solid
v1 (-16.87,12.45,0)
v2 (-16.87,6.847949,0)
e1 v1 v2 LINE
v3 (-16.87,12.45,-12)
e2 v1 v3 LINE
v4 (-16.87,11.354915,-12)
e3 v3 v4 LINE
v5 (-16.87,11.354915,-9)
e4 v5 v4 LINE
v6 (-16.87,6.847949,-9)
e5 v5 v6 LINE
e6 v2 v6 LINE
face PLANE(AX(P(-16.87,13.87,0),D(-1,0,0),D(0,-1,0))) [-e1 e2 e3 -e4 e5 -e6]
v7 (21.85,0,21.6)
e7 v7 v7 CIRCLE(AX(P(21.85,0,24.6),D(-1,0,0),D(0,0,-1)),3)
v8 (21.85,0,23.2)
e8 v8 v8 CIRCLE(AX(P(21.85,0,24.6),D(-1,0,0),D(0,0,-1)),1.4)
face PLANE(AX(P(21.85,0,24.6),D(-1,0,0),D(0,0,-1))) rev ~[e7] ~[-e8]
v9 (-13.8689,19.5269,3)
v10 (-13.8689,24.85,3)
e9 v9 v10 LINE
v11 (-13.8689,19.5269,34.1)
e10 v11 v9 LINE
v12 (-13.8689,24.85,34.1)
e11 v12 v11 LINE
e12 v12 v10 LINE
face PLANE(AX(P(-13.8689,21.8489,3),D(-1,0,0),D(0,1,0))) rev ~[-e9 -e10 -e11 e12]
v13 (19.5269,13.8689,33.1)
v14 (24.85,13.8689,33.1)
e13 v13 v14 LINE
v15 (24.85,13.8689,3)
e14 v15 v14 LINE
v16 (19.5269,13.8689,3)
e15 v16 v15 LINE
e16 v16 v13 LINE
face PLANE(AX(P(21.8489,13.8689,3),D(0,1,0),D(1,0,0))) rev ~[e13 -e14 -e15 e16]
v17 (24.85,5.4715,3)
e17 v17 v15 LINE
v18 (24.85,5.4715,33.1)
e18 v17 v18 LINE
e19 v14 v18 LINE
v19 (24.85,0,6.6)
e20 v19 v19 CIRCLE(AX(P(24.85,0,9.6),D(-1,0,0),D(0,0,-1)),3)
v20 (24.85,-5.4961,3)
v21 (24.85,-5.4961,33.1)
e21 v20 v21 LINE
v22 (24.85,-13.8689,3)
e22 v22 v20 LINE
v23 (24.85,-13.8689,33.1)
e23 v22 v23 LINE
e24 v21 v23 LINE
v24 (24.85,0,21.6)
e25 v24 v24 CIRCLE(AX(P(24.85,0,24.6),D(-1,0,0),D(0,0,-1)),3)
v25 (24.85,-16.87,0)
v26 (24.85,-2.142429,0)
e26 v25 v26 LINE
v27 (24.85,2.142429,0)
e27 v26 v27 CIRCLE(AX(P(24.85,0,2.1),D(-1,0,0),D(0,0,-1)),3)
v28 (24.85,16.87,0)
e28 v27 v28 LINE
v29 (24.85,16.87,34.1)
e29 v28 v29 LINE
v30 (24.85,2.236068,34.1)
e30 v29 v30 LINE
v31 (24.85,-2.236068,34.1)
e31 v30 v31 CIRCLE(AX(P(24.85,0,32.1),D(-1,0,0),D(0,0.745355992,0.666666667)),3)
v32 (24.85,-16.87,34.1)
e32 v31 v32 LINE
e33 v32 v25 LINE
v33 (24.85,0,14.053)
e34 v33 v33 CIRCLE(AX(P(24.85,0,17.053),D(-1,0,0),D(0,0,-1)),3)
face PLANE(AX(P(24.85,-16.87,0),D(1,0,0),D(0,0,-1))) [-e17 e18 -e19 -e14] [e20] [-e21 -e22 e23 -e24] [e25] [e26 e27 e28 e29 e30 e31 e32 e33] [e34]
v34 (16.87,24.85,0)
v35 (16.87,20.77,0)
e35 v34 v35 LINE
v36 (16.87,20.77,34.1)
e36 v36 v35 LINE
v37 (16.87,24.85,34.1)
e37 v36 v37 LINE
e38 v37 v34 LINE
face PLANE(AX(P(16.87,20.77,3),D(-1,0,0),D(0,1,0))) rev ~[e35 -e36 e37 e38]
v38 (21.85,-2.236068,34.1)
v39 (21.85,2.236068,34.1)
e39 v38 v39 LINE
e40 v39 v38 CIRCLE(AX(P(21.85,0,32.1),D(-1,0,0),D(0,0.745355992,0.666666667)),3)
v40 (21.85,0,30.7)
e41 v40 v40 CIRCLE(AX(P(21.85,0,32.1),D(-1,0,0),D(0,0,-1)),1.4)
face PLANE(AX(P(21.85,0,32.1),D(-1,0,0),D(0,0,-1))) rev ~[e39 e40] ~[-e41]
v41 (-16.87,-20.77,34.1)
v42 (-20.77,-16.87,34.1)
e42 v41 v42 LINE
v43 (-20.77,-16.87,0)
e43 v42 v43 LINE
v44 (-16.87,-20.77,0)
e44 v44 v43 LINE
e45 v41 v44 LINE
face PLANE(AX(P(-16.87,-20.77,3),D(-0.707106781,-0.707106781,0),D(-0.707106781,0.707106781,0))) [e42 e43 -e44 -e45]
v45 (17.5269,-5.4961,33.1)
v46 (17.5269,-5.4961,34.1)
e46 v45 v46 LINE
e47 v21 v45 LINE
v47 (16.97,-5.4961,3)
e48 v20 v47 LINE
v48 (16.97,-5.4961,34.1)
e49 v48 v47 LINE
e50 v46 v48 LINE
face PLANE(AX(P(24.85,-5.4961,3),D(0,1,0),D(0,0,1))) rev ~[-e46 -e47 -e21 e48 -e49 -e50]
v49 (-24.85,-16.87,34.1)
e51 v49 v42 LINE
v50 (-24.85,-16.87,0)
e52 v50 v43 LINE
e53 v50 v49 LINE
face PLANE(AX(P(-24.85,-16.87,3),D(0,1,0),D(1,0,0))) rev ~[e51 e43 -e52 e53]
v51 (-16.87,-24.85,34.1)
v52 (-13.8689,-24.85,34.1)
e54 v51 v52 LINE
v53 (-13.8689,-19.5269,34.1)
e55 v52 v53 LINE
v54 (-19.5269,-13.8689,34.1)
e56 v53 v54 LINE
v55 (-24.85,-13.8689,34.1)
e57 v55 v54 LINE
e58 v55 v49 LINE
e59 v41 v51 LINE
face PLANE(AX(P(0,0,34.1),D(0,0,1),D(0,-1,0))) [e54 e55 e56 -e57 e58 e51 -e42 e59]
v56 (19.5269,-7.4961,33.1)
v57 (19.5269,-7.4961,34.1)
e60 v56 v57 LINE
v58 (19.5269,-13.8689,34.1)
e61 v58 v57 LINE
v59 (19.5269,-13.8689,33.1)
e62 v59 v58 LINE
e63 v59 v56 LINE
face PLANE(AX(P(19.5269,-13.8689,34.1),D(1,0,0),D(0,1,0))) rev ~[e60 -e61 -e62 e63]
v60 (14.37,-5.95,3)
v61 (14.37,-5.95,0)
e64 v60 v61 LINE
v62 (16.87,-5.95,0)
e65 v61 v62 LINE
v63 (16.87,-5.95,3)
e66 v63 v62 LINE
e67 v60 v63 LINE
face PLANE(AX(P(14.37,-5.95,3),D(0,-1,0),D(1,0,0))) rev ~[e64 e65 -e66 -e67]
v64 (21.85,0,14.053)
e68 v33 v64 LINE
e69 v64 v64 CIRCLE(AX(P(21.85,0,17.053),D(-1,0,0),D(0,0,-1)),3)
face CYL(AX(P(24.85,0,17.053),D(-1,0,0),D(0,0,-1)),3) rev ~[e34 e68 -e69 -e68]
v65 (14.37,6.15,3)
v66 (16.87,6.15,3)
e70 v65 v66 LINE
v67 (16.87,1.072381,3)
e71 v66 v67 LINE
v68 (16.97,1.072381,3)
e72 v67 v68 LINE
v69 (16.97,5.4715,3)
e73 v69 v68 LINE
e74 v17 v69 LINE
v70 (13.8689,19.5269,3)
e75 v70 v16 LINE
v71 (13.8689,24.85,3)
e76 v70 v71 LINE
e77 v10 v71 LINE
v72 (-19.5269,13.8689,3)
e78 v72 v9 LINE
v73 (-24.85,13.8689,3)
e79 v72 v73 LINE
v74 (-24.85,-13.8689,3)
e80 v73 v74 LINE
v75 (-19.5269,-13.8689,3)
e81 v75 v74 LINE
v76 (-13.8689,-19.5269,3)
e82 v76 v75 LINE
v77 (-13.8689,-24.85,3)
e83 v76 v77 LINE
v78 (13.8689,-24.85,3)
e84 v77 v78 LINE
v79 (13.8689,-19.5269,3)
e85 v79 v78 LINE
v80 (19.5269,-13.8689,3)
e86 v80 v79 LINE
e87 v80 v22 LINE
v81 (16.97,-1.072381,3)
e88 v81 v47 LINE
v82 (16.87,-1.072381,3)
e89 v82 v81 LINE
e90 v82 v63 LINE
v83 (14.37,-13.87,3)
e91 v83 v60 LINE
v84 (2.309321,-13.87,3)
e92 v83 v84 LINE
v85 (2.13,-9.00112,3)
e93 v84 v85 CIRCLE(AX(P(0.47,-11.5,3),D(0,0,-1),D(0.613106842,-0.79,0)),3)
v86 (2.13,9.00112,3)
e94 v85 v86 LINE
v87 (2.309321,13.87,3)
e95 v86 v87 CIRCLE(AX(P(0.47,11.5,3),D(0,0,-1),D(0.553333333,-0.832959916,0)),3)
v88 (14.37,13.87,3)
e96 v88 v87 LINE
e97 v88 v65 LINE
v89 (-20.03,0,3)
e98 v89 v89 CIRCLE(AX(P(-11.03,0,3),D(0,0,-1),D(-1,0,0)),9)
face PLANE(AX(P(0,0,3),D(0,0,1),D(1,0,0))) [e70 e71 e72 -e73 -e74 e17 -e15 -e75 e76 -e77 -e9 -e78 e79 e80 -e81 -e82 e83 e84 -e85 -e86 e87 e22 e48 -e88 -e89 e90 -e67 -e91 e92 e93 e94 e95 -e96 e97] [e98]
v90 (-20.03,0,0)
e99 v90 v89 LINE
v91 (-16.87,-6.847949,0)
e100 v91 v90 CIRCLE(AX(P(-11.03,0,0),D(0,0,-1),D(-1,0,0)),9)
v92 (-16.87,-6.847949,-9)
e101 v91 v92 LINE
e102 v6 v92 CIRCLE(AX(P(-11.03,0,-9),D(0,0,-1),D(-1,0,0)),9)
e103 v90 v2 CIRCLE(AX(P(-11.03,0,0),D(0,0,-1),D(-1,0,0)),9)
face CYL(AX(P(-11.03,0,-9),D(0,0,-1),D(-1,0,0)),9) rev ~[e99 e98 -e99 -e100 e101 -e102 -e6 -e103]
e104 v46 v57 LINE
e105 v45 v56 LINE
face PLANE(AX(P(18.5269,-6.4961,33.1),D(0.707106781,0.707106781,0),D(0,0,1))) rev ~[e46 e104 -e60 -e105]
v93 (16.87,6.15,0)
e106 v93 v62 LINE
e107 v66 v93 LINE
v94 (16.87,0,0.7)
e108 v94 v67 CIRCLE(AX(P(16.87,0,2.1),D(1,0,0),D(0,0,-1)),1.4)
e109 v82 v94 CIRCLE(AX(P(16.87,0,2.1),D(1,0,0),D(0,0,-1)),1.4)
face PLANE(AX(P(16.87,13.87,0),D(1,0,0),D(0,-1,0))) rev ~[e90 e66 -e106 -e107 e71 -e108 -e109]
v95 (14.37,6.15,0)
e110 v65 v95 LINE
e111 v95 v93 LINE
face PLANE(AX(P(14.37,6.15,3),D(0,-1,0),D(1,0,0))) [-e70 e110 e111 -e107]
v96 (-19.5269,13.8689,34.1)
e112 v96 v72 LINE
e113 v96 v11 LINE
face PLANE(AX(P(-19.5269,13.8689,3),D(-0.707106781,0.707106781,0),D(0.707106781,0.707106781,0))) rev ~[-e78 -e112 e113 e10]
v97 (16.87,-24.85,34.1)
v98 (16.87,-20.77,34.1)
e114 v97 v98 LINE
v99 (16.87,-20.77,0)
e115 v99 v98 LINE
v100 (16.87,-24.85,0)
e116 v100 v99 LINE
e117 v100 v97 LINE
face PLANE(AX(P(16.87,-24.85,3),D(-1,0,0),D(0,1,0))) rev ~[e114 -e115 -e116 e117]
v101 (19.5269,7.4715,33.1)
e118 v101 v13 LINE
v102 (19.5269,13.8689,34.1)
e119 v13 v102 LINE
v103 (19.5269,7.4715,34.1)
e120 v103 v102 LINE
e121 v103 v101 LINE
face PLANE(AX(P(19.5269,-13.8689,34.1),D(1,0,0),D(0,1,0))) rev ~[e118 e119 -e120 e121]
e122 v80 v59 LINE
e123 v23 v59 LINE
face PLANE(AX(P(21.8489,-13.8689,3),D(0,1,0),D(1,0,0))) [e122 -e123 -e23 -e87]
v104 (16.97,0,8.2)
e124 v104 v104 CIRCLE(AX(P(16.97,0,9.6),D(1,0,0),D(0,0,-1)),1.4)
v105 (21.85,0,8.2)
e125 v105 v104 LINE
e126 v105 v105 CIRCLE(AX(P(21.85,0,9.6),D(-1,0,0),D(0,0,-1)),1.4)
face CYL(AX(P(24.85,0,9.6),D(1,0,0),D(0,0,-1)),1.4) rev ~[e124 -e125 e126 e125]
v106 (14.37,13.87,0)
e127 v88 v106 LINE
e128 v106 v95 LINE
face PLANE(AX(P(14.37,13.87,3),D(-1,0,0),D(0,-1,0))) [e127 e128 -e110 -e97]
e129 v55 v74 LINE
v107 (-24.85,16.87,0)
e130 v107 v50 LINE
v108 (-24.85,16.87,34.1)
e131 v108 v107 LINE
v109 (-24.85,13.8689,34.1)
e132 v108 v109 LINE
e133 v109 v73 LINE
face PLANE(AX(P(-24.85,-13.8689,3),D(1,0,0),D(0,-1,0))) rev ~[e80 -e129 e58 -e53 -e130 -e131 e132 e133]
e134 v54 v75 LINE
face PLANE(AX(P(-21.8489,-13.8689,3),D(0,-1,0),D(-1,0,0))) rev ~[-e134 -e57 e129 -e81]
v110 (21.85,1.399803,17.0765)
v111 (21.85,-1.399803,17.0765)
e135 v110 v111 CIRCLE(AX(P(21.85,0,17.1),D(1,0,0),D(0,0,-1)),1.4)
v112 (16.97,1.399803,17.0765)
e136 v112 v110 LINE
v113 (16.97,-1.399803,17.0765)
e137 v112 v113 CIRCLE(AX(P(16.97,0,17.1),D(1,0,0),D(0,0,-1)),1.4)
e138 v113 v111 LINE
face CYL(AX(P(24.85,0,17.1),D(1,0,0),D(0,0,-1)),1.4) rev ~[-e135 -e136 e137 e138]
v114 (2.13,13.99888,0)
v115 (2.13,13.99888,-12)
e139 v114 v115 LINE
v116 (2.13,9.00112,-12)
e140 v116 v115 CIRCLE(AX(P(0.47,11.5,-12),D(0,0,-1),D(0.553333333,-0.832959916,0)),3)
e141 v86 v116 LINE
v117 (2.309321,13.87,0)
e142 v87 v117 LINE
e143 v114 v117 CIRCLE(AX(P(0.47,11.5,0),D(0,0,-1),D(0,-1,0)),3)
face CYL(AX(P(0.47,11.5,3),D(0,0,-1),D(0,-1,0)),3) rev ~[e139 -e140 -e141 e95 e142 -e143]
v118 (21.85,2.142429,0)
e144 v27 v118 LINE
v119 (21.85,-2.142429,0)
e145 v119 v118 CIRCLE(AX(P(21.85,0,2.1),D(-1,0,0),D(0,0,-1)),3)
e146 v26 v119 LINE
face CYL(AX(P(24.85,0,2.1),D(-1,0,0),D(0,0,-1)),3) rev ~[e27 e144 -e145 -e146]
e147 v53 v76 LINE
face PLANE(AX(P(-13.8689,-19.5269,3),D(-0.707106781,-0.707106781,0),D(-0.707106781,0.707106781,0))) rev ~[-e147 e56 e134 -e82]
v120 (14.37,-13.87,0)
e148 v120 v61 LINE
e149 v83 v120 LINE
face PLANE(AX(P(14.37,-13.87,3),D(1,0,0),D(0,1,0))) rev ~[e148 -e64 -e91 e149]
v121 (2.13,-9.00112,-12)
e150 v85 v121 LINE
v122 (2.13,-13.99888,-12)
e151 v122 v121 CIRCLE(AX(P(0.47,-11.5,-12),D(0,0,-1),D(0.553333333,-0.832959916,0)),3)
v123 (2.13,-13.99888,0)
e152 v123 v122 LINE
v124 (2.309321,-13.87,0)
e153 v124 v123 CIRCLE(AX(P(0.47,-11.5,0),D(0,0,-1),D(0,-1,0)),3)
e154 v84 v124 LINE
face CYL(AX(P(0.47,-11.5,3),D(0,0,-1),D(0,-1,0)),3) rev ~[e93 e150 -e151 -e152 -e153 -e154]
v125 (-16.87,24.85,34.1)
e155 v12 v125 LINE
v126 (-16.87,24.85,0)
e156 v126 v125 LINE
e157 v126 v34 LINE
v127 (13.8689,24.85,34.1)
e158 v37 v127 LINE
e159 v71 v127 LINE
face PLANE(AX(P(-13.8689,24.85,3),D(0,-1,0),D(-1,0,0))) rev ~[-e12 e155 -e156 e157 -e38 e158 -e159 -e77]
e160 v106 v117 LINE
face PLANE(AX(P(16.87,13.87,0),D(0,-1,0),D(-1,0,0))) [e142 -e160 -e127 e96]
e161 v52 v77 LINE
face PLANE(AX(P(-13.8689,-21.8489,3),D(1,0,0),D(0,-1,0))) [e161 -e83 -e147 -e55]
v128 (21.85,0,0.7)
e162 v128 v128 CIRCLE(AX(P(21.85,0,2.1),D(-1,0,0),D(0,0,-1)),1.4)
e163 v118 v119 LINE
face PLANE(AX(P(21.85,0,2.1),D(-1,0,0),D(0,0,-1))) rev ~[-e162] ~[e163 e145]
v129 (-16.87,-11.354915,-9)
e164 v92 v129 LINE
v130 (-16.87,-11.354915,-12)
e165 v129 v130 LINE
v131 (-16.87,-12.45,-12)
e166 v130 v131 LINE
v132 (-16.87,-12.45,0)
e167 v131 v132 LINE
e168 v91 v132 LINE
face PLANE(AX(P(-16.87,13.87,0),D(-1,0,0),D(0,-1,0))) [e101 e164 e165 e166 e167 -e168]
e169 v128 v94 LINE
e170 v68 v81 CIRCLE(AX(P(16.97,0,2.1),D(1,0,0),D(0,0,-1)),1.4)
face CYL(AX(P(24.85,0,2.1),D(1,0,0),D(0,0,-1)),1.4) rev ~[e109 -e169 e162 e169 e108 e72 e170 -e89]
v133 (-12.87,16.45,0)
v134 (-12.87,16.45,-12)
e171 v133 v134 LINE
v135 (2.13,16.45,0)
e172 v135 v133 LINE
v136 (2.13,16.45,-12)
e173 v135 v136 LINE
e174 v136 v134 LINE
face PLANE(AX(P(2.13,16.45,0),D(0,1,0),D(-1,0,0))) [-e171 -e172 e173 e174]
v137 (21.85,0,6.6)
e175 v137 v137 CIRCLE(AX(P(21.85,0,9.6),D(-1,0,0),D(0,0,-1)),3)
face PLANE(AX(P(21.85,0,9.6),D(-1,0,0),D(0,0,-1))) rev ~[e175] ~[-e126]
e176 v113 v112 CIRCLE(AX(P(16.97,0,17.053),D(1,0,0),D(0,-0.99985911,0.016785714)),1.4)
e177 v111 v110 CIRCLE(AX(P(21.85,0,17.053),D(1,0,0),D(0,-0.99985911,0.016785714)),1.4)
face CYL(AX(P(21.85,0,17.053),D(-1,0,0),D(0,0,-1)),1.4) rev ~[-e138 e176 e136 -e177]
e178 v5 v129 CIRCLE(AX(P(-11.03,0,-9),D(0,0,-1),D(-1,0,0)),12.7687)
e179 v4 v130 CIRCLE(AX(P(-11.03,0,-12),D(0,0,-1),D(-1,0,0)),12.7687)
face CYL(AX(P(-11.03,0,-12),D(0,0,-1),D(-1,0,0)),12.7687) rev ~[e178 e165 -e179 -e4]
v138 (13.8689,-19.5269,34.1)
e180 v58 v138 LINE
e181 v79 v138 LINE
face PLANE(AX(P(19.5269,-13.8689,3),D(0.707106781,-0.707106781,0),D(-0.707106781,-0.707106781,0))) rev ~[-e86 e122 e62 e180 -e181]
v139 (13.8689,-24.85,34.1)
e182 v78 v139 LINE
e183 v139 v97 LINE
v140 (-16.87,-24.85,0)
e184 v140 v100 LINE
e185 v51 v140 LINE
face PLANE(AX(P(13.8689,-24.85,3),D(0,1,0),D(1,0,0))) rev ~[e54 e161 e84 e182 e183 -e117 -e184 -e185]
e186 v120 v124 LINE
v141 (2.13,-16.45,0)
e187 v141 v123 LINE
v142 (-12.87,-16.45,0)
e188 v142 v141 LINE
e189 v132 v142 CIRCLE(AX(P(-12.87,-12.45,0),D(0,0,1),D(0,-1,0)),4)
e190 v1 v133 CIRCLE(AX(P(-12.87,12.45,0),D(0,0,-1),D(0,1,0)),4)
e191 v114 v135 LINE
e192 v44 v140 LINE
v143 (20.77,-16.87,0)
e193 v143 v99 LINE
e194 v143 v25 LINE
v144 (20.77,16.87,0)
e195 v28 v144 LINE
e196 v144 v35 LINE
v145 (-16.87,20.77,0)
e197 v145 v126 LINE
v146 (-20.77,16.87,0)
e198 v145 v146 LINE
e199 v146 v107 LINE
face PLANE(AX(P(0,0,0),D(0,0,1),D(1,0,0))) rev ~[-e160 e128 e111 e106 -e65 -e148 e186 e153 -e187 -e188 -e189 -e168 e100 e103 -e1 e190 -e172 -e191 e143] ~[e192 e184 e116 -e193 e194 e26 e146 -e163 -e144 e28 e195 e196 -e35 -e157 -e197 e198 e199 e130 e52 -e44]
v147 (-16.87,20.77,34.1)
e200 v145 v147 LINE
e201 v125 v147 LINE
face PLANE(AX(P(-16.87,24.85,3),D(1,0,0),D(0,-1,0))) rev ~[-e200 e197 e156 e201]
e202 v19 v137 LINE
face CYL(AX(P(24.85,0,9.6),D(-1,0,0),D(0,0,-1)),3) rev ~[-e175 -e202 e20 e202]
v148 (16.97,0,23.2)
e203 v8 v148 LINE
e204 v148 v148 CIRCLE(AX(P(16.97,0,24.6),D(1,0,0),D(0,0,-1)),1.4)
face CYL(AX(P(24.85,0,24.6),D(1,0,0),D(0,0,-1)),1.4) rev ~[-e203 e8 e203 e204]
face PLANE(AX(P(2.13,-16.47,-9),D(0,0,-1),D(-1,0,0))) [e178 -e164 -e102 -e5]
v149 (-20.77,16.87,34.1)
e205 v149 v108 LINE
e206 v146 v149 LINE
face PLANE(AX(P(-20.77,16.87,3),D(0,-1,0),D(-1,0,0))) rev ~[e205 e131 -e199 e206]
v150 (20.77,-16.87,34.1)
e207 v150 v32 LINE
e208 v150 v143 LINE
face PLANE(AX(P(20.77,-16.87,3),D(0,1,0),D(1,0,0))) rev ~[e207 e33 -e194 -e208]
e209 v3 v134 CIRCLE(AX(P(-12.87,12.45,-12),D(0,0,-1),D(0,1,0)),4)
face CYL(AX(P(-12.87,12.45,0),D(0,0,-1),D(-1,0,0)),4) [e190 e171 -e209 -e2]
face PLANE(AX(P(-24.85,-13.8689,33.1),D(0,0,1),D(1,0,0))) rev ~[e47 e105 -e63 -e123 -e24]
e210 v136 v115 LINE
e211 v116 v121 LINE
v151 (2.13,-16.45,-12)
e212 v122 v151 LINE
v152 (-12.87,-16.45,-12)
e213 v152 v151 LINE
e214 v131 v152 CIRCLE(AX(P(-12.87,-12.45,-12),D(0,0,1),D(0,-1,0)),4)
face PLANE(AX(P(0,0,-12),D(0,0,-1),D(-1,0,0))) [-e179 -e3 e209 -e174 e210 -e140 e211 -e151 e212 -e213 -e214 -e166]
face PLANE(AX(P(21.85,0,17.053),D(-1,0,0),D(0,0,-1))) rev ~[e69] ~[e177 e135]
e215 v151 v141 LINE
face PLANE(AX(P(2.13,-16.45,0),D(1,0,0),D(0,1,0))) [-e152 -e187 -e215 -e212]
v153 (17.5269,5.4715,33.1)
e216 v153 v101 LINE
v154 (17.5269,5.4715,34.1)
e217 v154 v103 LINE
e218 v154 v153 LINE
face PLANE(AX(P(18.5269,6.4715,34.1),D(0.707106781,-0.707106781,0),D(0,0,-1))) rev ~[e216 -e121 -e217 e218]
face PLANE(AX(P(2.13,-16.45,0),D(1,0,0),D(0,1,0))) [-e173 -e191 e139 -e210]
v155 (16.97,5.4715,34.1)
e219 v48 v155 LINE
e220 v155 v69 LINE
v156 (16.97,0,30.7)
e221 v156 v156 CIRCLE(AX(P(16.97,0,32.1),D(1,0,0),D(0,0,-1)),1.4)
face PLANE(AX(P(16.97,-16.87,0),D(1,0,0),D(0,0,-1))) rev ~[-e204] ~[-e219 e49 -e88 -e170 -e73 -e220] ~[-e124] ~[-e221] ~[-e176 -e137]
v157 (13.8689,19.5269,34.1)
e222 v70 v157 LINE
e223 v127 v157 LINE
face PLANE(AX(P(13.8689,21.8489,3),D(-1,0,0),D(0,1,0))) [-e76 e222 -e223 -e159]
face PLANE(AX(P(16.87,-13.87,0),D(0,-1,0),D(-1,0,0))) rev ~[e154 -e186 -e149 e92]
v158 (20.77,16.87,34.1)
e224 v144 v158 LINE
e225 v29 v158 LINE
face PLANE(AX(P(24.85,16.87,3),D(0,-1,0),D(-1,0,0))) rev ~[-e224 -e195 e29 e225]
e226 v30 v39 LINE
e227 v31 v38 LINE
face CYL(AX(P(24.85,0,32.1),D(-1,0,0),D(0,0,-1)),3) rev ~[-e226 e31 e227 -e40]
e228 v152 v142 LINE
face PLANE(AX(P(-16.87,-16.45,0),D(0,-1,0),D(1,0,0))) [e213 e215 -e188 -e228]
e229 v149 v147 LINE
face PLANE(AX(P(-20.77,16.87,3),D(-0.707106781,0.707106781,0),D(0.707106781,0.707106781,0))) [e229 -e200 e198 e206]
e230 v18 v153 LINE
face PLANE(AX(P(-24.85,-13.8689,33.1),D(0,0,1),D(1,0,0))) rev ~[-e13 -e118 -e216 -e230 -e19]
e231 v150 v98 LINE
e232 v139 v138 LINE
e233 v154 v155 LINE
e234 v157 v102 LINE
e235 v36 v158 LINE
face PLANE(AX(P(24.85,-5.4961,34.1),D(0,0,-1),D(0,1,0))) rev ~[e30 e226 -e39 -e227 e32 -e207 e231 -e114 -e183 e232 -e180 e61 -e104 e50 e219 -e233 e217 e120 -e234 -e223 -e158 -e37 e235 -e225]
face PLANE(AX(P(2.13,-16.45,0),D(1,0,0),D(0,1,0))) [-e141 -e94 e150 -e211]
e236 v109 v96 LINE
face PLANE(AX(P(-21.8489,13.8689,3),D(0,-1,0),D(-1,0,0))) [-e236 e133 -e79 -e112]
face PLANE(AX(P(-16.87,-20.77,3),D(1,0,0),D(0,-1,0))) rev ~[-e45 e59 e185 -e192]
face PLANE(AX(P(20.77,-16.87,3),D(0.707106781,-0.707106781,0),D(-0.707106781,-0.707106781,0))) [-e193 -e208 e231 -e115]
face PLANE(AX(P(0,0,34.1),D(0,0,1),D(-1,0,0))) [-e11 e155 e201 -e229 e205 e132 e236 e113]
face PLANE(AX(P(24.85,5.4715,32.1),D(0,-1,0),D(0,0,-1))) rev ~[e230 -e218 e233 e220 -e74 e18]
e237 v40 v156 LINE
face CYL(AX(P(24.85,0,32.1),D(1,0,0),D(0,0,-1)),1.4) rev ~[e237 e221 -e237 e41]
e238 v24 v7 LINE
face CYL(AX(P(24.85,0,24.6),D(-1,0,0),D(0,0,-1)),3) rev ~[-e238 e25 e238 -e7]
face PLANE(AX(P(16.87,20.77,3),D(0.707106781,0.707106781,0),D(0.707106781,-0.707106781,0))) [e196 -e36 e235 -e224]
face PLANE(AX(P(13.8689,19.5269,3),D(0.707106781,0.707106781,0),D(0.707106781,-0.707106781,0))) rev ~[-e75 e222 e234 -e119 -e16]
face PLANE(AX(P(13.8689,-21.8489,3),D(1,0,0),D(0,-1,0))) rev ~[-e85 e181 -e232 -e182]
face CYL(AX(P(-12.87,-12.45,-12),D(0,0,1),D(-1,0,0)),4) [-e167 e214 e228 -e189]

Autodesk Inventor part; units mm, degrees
ref_plane "Work Plane1" through (0, 0, 0) normal (0, 0, 1) x (1, 0, 0)
sketch "Sketch1" plane through (0, 0, 0) normal (0, 0, 1) x (1, 0, 0)
  arc A0 (24.85, 22.85) -> (22.85, 24.85) centre (22.85, 22.85) ccw construction
  line L0 (22.85, 24.85) -> (-16.97, 24.85) construction
  line L1 (-16.97, 24.85) -> (-16.97, 21.15) construction
  line L2 (-16.97, 21.15) -> (16.97, 21.15) construction
  line L3 (16.97, 16.97) -> (16.97, 21.15) construction
  line L4 (21.15, 16.97) -> (16.97, 16.97) construction
  line L5 (21.15, 16.97) -> (21.15, -16.97) construction
  line L6 (21.15, -16.97) -> (24.85, -16.97) construction
  line L7 (24.85, -16.97) -> (24.85, 22.85) construction
  line L8 (23.75, 23.25) -> (23.75, 18.15) construction
  arc A1 (23.25, 17.65) -> (23.75, 18.15) centre (23.25, 18.15) ccw construction
  line L9 (23.25, 17.65) -> (20.8937, 17.65) construction
  arc A2 (20.5239, 17.8134) -> (20.8937, 17.65) centre (20.8937, 18.15) ccw construction
  line L10 (20.5239, 17.8134) -> (17.7803, 20.8273) construction
  arc A3 (17.65, 21.1639) -> (17.7803, 20.8273) centre (18.15, 21.1639) ccw construction
  line L11 (17.65, 21.1639) -> (17.65, 23.25) construction
  arc A4 (18.15, 23.75) -> (17.65, 23.25) centre (18.15, 23.25) ccw construction
  line L12 (18.15, 23.75) -> (23.25, 23.75) construction
  arc A5 (23.75, 23.25) -> (23.25, 23.75) centre (23.25, 23.25) ccw construction
  arc A6 (-24.85, -22.85) -> (-22.85, -24.85) centre (-22.85, -22.85) ccw construction
  line L13 (-22.85, -24.85) -> (16.97, -24.85) construction
  line L14 (16.97, -24.85) -> (16.97, -21.15) construction
  line L15 (16.97, -21.15) -> (-16.97, -21.15) construction
  line L16 (-16.97, -16.97) -> (-16.97, -21.15) construction
  line L17 (-21.15, -16.97) -> (-16.97, -16.97) construction
  line L18 (-21.15, -16.97) -> (-21.15, 16.97) construction
  line L19 (-21.15, 16.97) -> (-24.85, 16.97) construction
  line L20 (-24.85, 16.97) -> (-24.85, -22.85) construction
  line L21 (-20.8273, -17.7803) -> (-17.8134, -20.5239) construction
  arc A7 (-17.65, -20.8937) -> (-17.8134, -20.5239) centre (-18.15, -20.8937) ccw construction
  line L22 (-17.65, -20.8937) -> (-17.65, -23.25) construction
  arc A8 (-18.15, -23.75) -> (-17.65, -23.25) centre (-18.15, -23.25) ccw construction
  line L23 (-18.15, -23.75) -> (-23.25, -23.75) construction
  arc A9 (-23.75, -23.25) -> (-23.25, -23.75) centre (-23.25, -23.25) ccw construction
  line L24 (-23.75, -23.25) -> (-23.75, -18.15) construction
  arc A10 (-23.25, -17.65) -> (-23.75, -18.15) centre (-23.25, -18.15) ccw construction
  line L25 (-23.25, -17.65) -> (-21.1639, -17.65) construction
  arc A11 (-20.8273, -17.7803) -> (-21.1639, -17.65) centre (-21.1639, -18.15) ccw construction
  arc A12 (-22.85, 24.85) -> (-24.85, 22.85) centre (-22.85, 22.85) ccw construction
  line L26 (-22.85, 24.85) -> (16.97, 24.85) construction
  line L27 (16.97, 24.85) -> (16.97, 21.15) construction
  line L28 (16.97, 21.15) -> (-16.97, 21.15) construction
  line L29 (-16.97, 16.97) -> (-16.97, 21.15) construction
  line L30 (-21.15, 16.97) -> (-16.97, 16.97) construction
  line L31 (-21.15, 16.97) -> (-21.15, -16.97) construction
  line L32 (-21.15, -16.97) -> (-24.85, -16.97) construction
  line L33 (-24.85, -16.97) -> (-24.85, 22.85) construction
  line L34 (-20.8273, 17.7803) -> (-17.8134, 20.5239) construction
  arc A13 (-17.8134, 20.5239) -> (-17.65, 20.8937) centre (-18.15, 20.8937) ccw construction
  line L35 (-17.65, 20.8937) -> (-17.65, 23.25) construction
  arc A14 (-17.65, 23.25) -> (-18.15, 23.75) centre (-18.15, 23.25) ccw construction
  line L36 (-18.15, 23.75) -> (-23.25, 23.75) construction
  arc A15 (-23.25, 23.75) -> (-23.75, 23.25) centre (-23.25, 23.25) ccw construction
  line L37 (-23.75, 23.25) -> (-23.75, 18.15) construction
  arc A16 (-23.75, 18.15) -> (-23.25, 17.65) centre (-23.25, 18.15) ccw construction
  line L38 (-23.25, 17.65) -> (-21.1639, 17.65) construction
  arc A17 (-21.1639, 17.65) -> (-20.8273, 17.7803) centre (-21.1639, 18.15) ccw construction
  arc A18 (22.85, -24.85) -> (24.85, -22.85) centre (22.85, -22.85) ccw construction
  line L39 (22.85, -24.85) -> (-16.97, -24.85) construction
  line L40 (-16.97, -24.85) -> (-16.97, -21.15) construction
  line L41 (-16.97, -21.15) -> (16.97, -21.15) construction
  line L42 (16.97, -16.97) -> (16.97, -21.15) construction
  line L43 (21.15, -16.97) -> (16.97, -16.97) construction
  line L44 (21.15, -16.97) -> (21.15, 16.97) construction
  line L45 (21.15, 16.97) -> (24.85, 16.97) construction
  line L46 (24.85, 16.97) -> (24.85, -22.85) construction
  line L47 (23.75, -23.25) -> (23.75, -18.15) construction
  arc A19 (23.75, -18.15) -> (23.25, -17.65) centre (23.25, -18.15) ccw construction
  line L48 (23.25, -17.65) -> (20.8937, -17.65) construction
  arc A20 (20.8937, -17.65) -> (20.5239, -17.8134) centre (20.8937, -18.15) ccw construction
  line L49 (20.5239, -17.8134) -> (17.7803, -20.8273) construction
  arc A21 (17.7803, -20.8273) -> (17.65, -21.1639) centre (18.15, -21.1639) ccw construction
  line L50 (17.65, -21.1639) -> (17.65, -23.25) construction
  arc A22 (17.65, -23.25) -> (18.15, -23.75) centre (18.15, -23.25) ccw construction
  line L51 (18.15, -23.75) -> (23.25, -23.75) construction
  arc A23 (23.25, -23.75) -> (23.75, -23.25) centre (23.25, -23.25) ccw construction
  circle A24 centre (0.47, -10.47) radius 1.1 construction
  circle A25 centre (0.47, 12.53) radius 1.025 construction
  line L52 (24.85, 16.87) -> (16.87, 16.87)
  line L53 (16.87, 16.87) -> (16.87, -16.87)
  line L54 (16.87, -16.87) -> (24.85, -16.87)
  line L55 (24.85, -16.87) -> (24.85, 16.87)
  line L56 (-16.87, 24.85) -> (16.87, 24.85)
  line L57 (16.87, 24.85) -> (16.87, 13.87)
  line L58 (16.87, 13.87) -> (-16.87, 13.87)
  line L59 (-16.87, 13.87) -> (-16.87, 24.85)
  line L60 (-16.87, 16.87) -> (-24.85, 16.87)
  line L61 (-24.85, 16.87) -> (-24.85, -16.87)
  line L62 (-24.85, -16.87) -> (-16.87, -16.87)
  line L63 (-16.87, -16.87) -> (-16.87, 16.87)
  line L64 (-16.87, -24.85) -> (16.87, -24.85)
  line L65 (16.87, -24.85) -> (16.87, -13.87)
  line L66 (16.87, -13.87) -> (-16.87, -13.87)
  line L67 (-16.87, -13.87) -> (-16.87, -24.85)
  arc A26 (12.6573, -5.8482) -> (12.7994, -6.05) centre (12.9383, -5.8013) ccw construction
  line L68 (12.7994, -6.05) -> (16.97, -6.05) construction
  line L69 (16.97, -6.05) -> (16.97, 6.05) construction
  line L70 (12.7994, 6.05) -> (16.97, 6.05) construction
  arc A27 (12.7994, 6.05) -> (12.6573, 5.8482) centre (12.9383, 5.8013) ccw construction
  arc A28 (12.2641, 5.5514) -> (12.6573, 5.8482) centre (11.7553, 6.6343) ccw construction
  arc A29 (12.2641, 5.5514) -> (12.1529, 5.425) centre (12.3846, 5.3332) ccw construction
  line L71 (12.1141, 4.928) -> (12.1529, 5.425) construction
  arc A30 (11.8955, 4.7) -> (12.1141, 4.928) centre (11.8656, 4.9475) ccw construction
  line L72 (11.4444, 4.7) -> (11.8955, 4.7) construction
  arc A31 (11.1961, 4.9275) -> (11.4444, 4.7) centre (11.4444, 4.9493) ccw construction
  line L73 (11.1642, 5.293) -> (11.1961, 4.9275) construction
  arc A32 (11.1642, 5.293) -> (11.0112, 5.5514) centre (10.9164, 5.3208) ccw construction
  arc A33 (10.4933, 5.8954) -> (11.0112, 5.5514) centre (11.4026, 6.7024) ccw construction
  arc A34 (10.4933, 5.8954) -> (10.27, 6.05) centre (10.2627, 5.8008) ccw construction
  line L74 (9.67, 6.05) -> (10.27, 6.05) construction
  line L75 (9.17, 5.55) -> (9.67, 6.05) construction
  line L76 (9.17, 5.55) -> (9.17, -5.55) construction
  line L77 (9.17, -5.55) -> (9.67, -6.05) construction
  line L78 (9.67, -6.05) -> (10.27, -6.05) construction
  arc A35 (10.27, -6.05) -> (10.4933, -5.8954) centre (10.2627, -5.8008) ccw construction
  arc A36 (11.0112, -5.5514) -> (10.4933, -5.8954) centre (11.4026, -6.7024) ccw construction
  arc A37 (11.0112, -5.5514) -> (11.1642, -5.293) centre (10.9164, -5.3208) ccw construction
  line L79 (11.1642, -5.293) -> (11.1961, -4.9275) construction
  arc A38 (11.4444, -4.7) -> (11.1961, -4.9275) centre (11.4444, -4.9493) ccw construction
  line L80 (11.4444, -4.7) -> (11.8955, -4.7) construction
  arc A39 (12.1141, -4.928) -> (11.8955, -4.7) centre (11.8656, -4.9475) ccw construction
  line L81 (12.1141, -4.928) -> (12.1529, -5.425) construction
  arc A40 (12.1529, -5.425) -> (12.2641, -5.5514) centre (12.3846, -5.3332) ccw construction
  arc A41 (12.6573, -5.8482) -> (12.2641, -5.5514) centre (11.7553, -6.6343) ccw construction
  point P0 (0, 0)
extrude "Extrusion1" add sketch "Sketch1" along normal blind 3 contours L55 L54 L53 L52 | L53 L58 L59 L56 L57 | L65 L64 L67 L63 L66 L53 | L63 L62 L61 L60 L59
chamfer "Chamfer1" distance 3.9 angle 45 4 edges at (16.87, -16.87, 1.5) (-16.87, -16.87, 1.5) (-16.87, 16.87, 1.5) (16.87, 16.87, 1.5)
sketch "Sketch2" plane through (0, 0, 3) normal (0, 0, 1) x (1, 0, 0)
  line L0 (-16.87, -13.87) -> (-16.87, 13.87) projected
  line L1 (-16.87, 13.87) -> (16.87, 13.87) projected
  line L2 (16.87, 13.87) -> (16.87, -13.87) projected
  line L3 (16.87, -13.87) -> (-16.87, -13.87) projected
  line L4 (-16.87, -20.77) -> (-16.87, -24.85) projected
  line L5 (-16.87, -24.85) -> (16.87, -24.85) projected
  line L6 (16.87, -24.85) -> (16.87, -20.77) projected
  line L7 (20.77, -16.87) -> (16.87, -20.77) projected
  line L8 (20.77, -16.87) -> (24.85, -16.87) projected
  line L9 (24.85, -16.87) -> (24.85, 16.87) projected
  line L10 (24.85, 16.87) -> (20.77, 16.87) projected
  line L11 (16.87, 20.77) -> (20.77, 16.87) projected
  line L12 (16.87, 20.77) -> (16.87, 24.85) projected
  line L13 (16.87, 24.85) -> (-16.87, 24.85) projected
  line L14 (-16.87, 24.85) -> (-16.87, 20.77) projected
  line L15 (-20.77, 16.87) -> (-16.87, 20.77) projected
  line L16 (-20.77, 16.87) -> (-24.85, 16.87) projected
  line L17 (-24.85, 16.87) -> (-24.85, -16.87) projected
  line L18 (-24.85, -16.87) -> (-20.77, -16.87) projected
  line L19 (-16.87, -20.77) -> (-20.77, -16.87) projected
  line L20 (13.8689, -19.5269) -> (13.8689, -21.8489)
  line L21 (-13.8689, -21.8489) -> (-13.8689, -19.5269)
  line L22 (-13.8689, -19.5269) -> (-19.5269, -13.8689)
  line L23 (-19.5269, -13.8689) -> (-21.8489, -13.8689)
  line L24 (-21.8489, 13.8689) -> (-19.5269, 13.8689)
  line L25 (-19.5269, 13.8689) -> (-13.8689, 19.5269)
  line L26 (-13.8689, 19.5269) -> (-13.8689, 21.8489)
  line L27 (13.8689, 21.8489) -> (13.8689, 19.5269)
  line L28 (13.8689, 19.5269) -> (19.5269, 13.8689)
  line L29 (19.5269, 13.8689) -> (21.8489, 13.8689)
  line L30 (21.8489, -13.8689) -> (19.5269, -13.8689)
  line L31 (19.5269, -13.8689) -> (13.8689, -19.5269)
  line L32 (13.8689, -21.8489) -> (13.8689, -24.85)
  line L33 (16.87, -24.85) -> (-16.87, -24.85) projected
  line L34 (21.8489, -13.8689) -> (24.85, -13.8689)
  line L35 (24.85, -16.87) -> (24.85, 16.87) projected
  line L36 (21.8489, 13.8689) -> (24.85, 13.8689)
  line L37 (13.8689, 21.8489) -> (13.8689, 24.85)
  line L38 (-13.8689, 21.8489) -> (-13.8689, 24.85)
  line L39 (-21.8489, 13.8689) -> (-24.85, 13.8689)
  line L40 (-21.8489, -13.8689) -> (-24.85, -13.8689)
  line L41 (-13.8689, -21.8489) -> (-13.8689, -24.85)
  line L42 (13.8689, -21.8489) -> (11.5469, -21.8489)
  line L43 (-11.5469, -21.8489) -> (-13.8689, -21.8489)
  line L44 (21.8489, 13.8689) -> (21.8489, 11.5469)
  line L45 (21.8489, -11.5469) -> (21.8489, -13.8689)
  line L46 (-21.8489, -13.8689) -> (-21.8489, -11.5469)
  line L47 (-21.8489, 11.5469) -> (-21.8489, 13.8689)
  line L48 (-13.8689, 21.8489) -> (-11.5469, 21.8489)
  line L49 (11.5469, 21.8489) -> (13.8689, 21.8489)
  point P0 (0, 0)
  dimension "d13" = 3.0011
ref_plane "Work Plane2" through (-16.97, -24.85, 34.1) normal (0, 0, -1) x (0, 1, 0)
extrude "Extrusion2" add sketch "Sketch2" along normal up to surface (31.1 mm away) contours L32 L20 L31 L30 L34 L9 L8 L7 L6 L5
pattern_circular "Circular Pattern1" count 4 over 360 about axis through (0, 0, 17.13) along (0, 0, -1) of "Extrusion2"
sketch "Sketch3" plane through (-24.85, -13.8689, 34.1) normal (0, 0, 1) x (1, 0, 0)
  circle A0 centre (13.82, 14.8989) radius 1.5 projected
  line L0 (10.9811, -5.658) -> (5.3231, 0) projected
  line L1 (5.3231, 0) -> (0, 0) projected
  line L2 (0, 0) -> (0, -3.0011) projected
  line L3 (0, -3.0011) -> (4.08, -3.0011) projected
  line L4 (4.08, -3.0011) -> (7.98, -6.9011) projected
  line L5 (7.98, -6.9011) -> (7.98, -10.9811) projected
  line L6 (7.98, -10.9811) -> (10.9811, -10.9811) projected
  line L7 (10.9811, -10.9811) -> (10.9811, -5.658) projected
  line L8 (5.3231, 27.7378) -> (10.9811, 33.3958) projected
  line L9 (10.9811, 33.3958) -> (10.9811, 38.7189) projected
  line L10 (10.9811, 38.7189) -> (7.98, 38.7189) projected
  line L11 (7.98, 38.7189) -> (7.98, 34.6389) projected
  line L12 (7.98, 34.6389) -> (4.08, 30.7389) projected
  line L13 (4.08, 30.7389) -> (0, 30.7389) projected
  line L14 (0, 30.7389) -> (0, 27.7378) projected
  line L15 (0, 27.7378) -> (5.3231, 27.7378) projected
  line L16 (10.9811, -10.9811) -> (16.9811, -10.9811)
  line L17 (16.9811, 38.7189) -> (10.9811, 38.7189)
  line L18 (0, 0) -> (0, 27.7378)
  line L19 (0, 0) -> (5.3231, 0)
  line L20 (5.3231, 0) -> (5.3231, 27.7378)
  line L21 (5.3231, 27.7378) -> (0, 27.7378)
  line L22 (0, 27.7378) -> (0, 0)
  line L23 (5.3231, 0) -> (0, 0) projected
  line L24 (5.3231, 0) -> (10.9811, -5.658)
  line L25 (10.9811, 33.3958) -> (5.3231, 27.7378)
  line L26 (38.7189, 38.7189) -> (38.7189, 33.3958) projected
  line L27 (38.7189, -5.658) -> (38.7189, -10.9811) projected
  line L28 (10.9811, -10.9811) -> (38.7189, -10.9811)
  line L29 (38.7189, -10.9811) -> (38.7189, -5.658)
  line L30 (38.7189, -5.658) -> (10.9811, -5.658)
  line L31 (10.9811, -5.658) -> (10.9811, -10.9811)
  line L32 (10.9811, 38.7189) -> (10.9811, 33.3958) projected
  line L33 (10.9811, 38.7189) -> (38.7189, 38.7189)
  line L34 (38.7189, 38.7189) -> (38.7189, 33.3958)
  line L35 (38.7189, 33.3958) -> (10.9811, 33.3958)
  line L36 (10.9811, 33.3958) -> (10.9811, 38.7189)
  line L37 (16.9811, -10.9811) -> (16.9811, -5.658)
  line L38 (16.9811, 33.3958) -> (16.9811, 38.7189)
  line L39 (10.9811, 38.7189) -> (10.9811, 33.3958)
  line L40 (10.9811, -5.658) -> (10.9811, -10.9811)
  line L41 (10.9811, -5.658) -> (10.9811, 0)
  line L42 (10.9811, 27.7378) -> (10.9811, 33.3958)
  line L43 (49.7, 0) -> (44.3769, 0) projected
  line L44 (44.3769, 27.7378) -> (49.7, 27.7378) projected
  line L45 (44.3769, 27.7378) -> (49.7, 27.7378)
  line L46 (49.7, 27.7378) -> (49.7, 0)
  line L47 (49.7, 0) -> (44.3769, 0)
  line L48 (44.3769, 0) -> (44.3769, 27.7378)
  point P0 (24.85, 13.8689)
  dimension "d19" = 6
extrude "Extrusion3" add sketch "Sketch3" against normal blind 1 contours L7 L6 L5 L4 L3 L2 L1 L0 | L15 L14 L13 L12 L11 L10 L9 L8 | L43 L48 L44 L46
sketch "Sketch4" plane through (24.85, -16.87, 0) normal (1, 0, 0) x (0, 0, -1)
  line L0 (37.9, 11.3739) -> (37.9, 18.453) construction
  line L1 (23.6194, 18.453) -> (37.9, 18.453) construction
  arc A0 (22.1806, 18.453) -> (23.6194, 18.453) centre (22.9, 16.8577) ccw construction
  line L2 (-1.3806, 18.453) -> (22.1806, 18.453) construction
  arc A1 (-2.8194, 18.453) -> (-1.3806, 18.453) centre (-2.1, 16.8577) ccw construction
  line L3 (-31.3806, 18.453) -> (-2.8194, 18.453) construction
  arc A2 (-32.8194, 18.453) -> (-31.3806, 18.453) centre (-32.1, 16.8577) ccw construction
  line L4 (-42.1, 18.453) -> (-32.8194, 18.453) construction
  line L5 (-42.1, 11.3739) -> (-42.1, 18.453) construction
  line L6 (-42.1, 11.3739) -> (37.9, 11.3739) construction
  line L7 (37.9, 19.2506) -> (37.9, 22.3415) construction
  line L8 (-42.1, 22.3415) -> (37.9, 22.3415) construction
  line L9 (-42.1, 19.2506) -> (-42.1, 22.3415) construction
  line L10 (-42.1, 19.2506) -> (37.9, 19.2506) construction
  line L11 (-3, 3.0011) -> (-3, 30.7389) construction
  line L12 (-34.1, 33.84) -> (-34.1, -5.98) construction
  line L13 (-3, 11.3739) -> (-34.1, 11.3739)
  line L14 (-34.1, 11.3739) -> (-34.1, 22.3415)
  line L15 (-34.1, 22.3415) -> (-3, 22.3415)
  line L16 (-3, 22.3415) -> (-3, 11.3739)
  line L17 (-34.1, 11.3739) -> (-32.1, 11.3739)
  line L18 (-32.1, 11.3739) -> (-32.1, 3.0011)
  line L19 (-32.1, 3.0011) -> (-34.1, 3.0011)
  line L20 (-34.1, 3.0011) -> (-34.1, 11.3739)
  line L21 (-34.1, 22.3415) -> (-32.1, 22.3415)
  line L22 (-32.1, 22.3415) -> (-32.1, 30.7389)
  line L23 (-32.1, 30.7389) -> (-34.1, 30.7389)
  line L24 (-34.1, 30.7389) -> (-34.1, 22.3415)
  point P0 (0, 16.87)
  dimension "d24" = 2
ref_plane "Work Plane3" through (16.97, -5.4961, -37.9) normal (1, 0, 0) x (0, 1, 0)
extrude "Extrusion4" add sketch "Sketch4" against normal up to surface (7.88 mm away) contours L13 L14 L15 L16
sketch "Sketch5" plane through (24.85, -16.87, 0) normal (1, 0, 0) x (0, 0, -1)
  circle A0 centre (-32.1, 16.87) radius 1.4
  circle A1 centre (-2.1, 16.87) radius 1.4
  line L0 (0, -7.98) -> (-34.1, -7.98) projected
  line L1 (0, 41.72) -> (-34.1, 41.72) projected
  line L2 (0, -7.98) -> (-34.1, -7.98) projected
  point P0 (0, 16.87)
  dimension "d25" = 2.8
  dimension "d26" = 2.8
  dimension "d86" = 49.7
  dimension "d87" = 24.85
  dimension "d88" = 0
extrude "Extrusion5" cut sketch "Sketch5" against normal blind 10
pattern_linear "Rectangular Pattern1" count 4 spacing 7.5 along (0, 0, 1) of "Extrusion5"
sketch "Sketch7" plane through (0, 0, 0) normal (0, 0, -1) x (-1, 0, 0)
  arc A0 (18.93, 12.43) -> (22.43, 8.93) centre (22.43, 12.43) ccw construction
  line L0 (18.93, 12.43) -> (18.93, 14.53) construction
  line L1 (3.13, 14.53) -> (18.93, 14.53) construction
  line L2 (3.13, 14.53) -> (3.13, 12.43) construction
  arc A1 (-0.37, 8.93) -> (3.13, 12.43) centre (-0.37, 12.43) ccw construction
  line L3 (-0.37, 8.93) -> (-2.47, 8.93) construction
  line L4 (-2.47, -6.87) -> (-2.47, 8.93) construction
  line L5 (-2.47, -6.87) -> (-0.37, -6.87) construction
  arc A2 (3.13, -10.37) -> (-0.37, -6.87) centre (-0.37, -10.37) ccw construction
  line L6 (3.13, -10.37) -> (3.13, -12.47) construction
  line L7 (18.93, -12.47) -> (3.13, -12.47) construction
  line L8 (18.93, -12.47) -> (18.93, -10.37) construction
  arc A3 (22.43, -6.87) -> (18.93, -10.37) centre (22.43, -10.37) ccw construction
  line L9 (22.43, -6.87) -> (24.53, -6.87) construction
  line L10 (24.53, 8.93) -> (24.53, -6.87) construction
  line L11 (24.53, 8.93) -> (22.43, 8.93) construction
  circle A4 centre (11.03, 1.03) radius 2.5 construction
  arc A5 (-1.5344, 11.2045) -> (0.934, 13.4886) centre (-0.47, 12.53) ccw construction
  circle A6 centre (-0.47, -10.47) radius 1.1 construction
  arc A7 (0.5944, 13.8555) -> (-1.874, 11.5714) centre (-0.47, 12.53) ccw construction
  line L12 (-19.5269, -13.8689) -> (-24.85, -13.8689) construction
  line L13 (-16.87, -1.0724) -> (-16.87, -13.87) construction
  line L14 (-16.87, -13.87) -> (16.87, -13.87) construction
  line L15 (16.87, -13.87) -> (16.87, 13.87) construction
  line L16 (16.87, 13.87) -> (-16.87, 13.87) construction
  line L17 (-19.5269, 13.8689) -> (-13.8689, 19.5269) construction
  line L18 (-13.8689, 19.5269) -> (-13.8689, 24.85) construction
  line L19 (-13.8689, 24.85) -> (13.8689, 24.85) construction
  line L20 (13.8689, 24.85) -> (13.8689, 19.5269) construction
  line L21 (13.8689, 19.5269) -> (19.5269, 13.8689) construction
  line L22 (19.5269, 13.8689) -> (24.85, 13.8689) construction
  line L23 (24.85, 13.8689) -> (24.85, -13.8689) construction
  line L24 (24.85, -13.8689) -> (19.5269, -13.8689) construction
  line L25 (19.5269, -13.8689) -> (13.8689, -19.5269) construction
  line L26 (13.8689, -19.5269) -> (13.8689, -24.85) construction
  line L27 (13.8689, -24.85) -> (-13.8689, -24.85) construction
  line L28 (-13.8689, -24.85) -> (-13.8689, -19.5269) construction
  line L29 (-13.8689, -19.5269) -> (-19.5269, -13.8689) construction
  line L30 (16.87, 13.87) -> (-16.87, 13.87) construction
  line L31 (16.87, 13.87) -> (-19.5258, 13.87) projected
  line L32 (-2.13, 13.87) -> (16.87, 13.87)
  line L33 (16.87, 13.87) -> (16.87, -16.45)
  line L34 (16.87, -16.45) -> (-2.13, -16.45)
  line L35 (-2.13, -16.45) -> (-2.13, 13.87)
  line L36 (16.97, 16.97) -> (-16.97, 16.97)
  line L37 (16.87, 13.87) -> (-2.13, 13.87)
  line L38 (-2.13, 13.87) -> (-2.13, 16.45)
  line L39 (-2.13, 16.45) -> (16.87, 16.45)
  line L40 (16.87, 16.45) -> (16.87, 13.87)
  line L41 (-16.97, -16.97) -> (16.97, -16.97) construction
  line L42 (-16.87, 1.0724) -> (-16.97, 1.0724) projected
  line L43 (-16.97, 1.0724) -> (-16.97, 5.4715) projected
  line L44 (-16.97, 5.4715) -> (-24.85, 5.4715) projected
  line L45 (-24.85, 5.4715) -> (-24.85, 13.8689) projected
  line L46 (-24.85, 13.8689) -> (-19.5269, 13.8689) projected
  line L47 (-24.85, -13.8689) -> (-24.85, -5.4961) projected
  line L48 (-24.85, -5.4961) -> (-16.97, -5.4961) projected
  line L49 (-16.97, -5.4961) -> (-16.97, -1.0724) projected
  line L50 (-16.97, -1.0724) -> (-16.87, -1.0724) projected
  line L51 (-16.87, 13.87) -> (-16.87, 1.0724) projected
  point P0 (0, 0)
  dimension "d35" = 19
  dimension "d36" = 0
  dimension "d74" = 16.45
  dimension "d75" = 16.45
ref_plane "Work Plane4" through (-25.03, -12.97, -12) normal (0, 0, 1) x (1, 0, 0)
extrude "Extrusion7" add sketch "Sketch7" along normal blind 12 and the other way blind 3 contours L33 L34 L35 L31 | L31 L38 L39 L40
sketch "Sketch8" plane through (0, 0, 3) normal (0, 0, 1) x (1, 0, 0)
  circle A0 centre (0.47, 12.53) radius 1.025 projected
  arc A1 (8.8, 18.96) -> (8.8, 22.36) centre (8.8, 20.66) ccw projected
  circle A2 centre (0.47, -10.47) radius 1.025 projected
  circle A3 centre (0.47, 11.5) radius 1.0261
  circle A4 centre (0.47, -11.5) radius 1.0306
  point P0 (0, 0)
  dimension "d76" = 12.53
  dimension "d77" = 23
  dimension "d78" = 11.5
  dimension "d79" = 11.5
hole "Hole1" at (0.47, 11.5, 3) at (0.47, -11.5, 3) direction (0, 0, -1) diameter 2.5 end through all counterbore diameter 6 counterbore depth 22
sketch "Sketch9" plane through (2.13, -16.47, -12) normal (0, 0, -1) x (-1, 0, 0)
  circle A0 centre (13.16, 17.5) radius 11 projected
  circle A1 centre (13.16, 17.5) radius 13
  circle A2 centre (13.16, 16.47) radius 12.7687
  circle A3 centre (1.66, 27.97) radius 1.25 projected
  point P0 (2.13, 16.47)
  dimension "d46" = 2
  dimension "d80" = 11.5
extrude "Extrusion8" cut sketch "Sketch9" against normal blind 3 contours A0 | A2 A1 | A1 A2 picked at (13.602, 5.2544) picked at (13.16, 4.2947)
sketch "Sketch10" plane through (2.13, -16.47, -9) normal (0, 0, -1) x (-1, 0, 0)
  arc A0 (19, 27.8249) -> (19, 5.1151) centre (13.16, 16.47) ccw projected
  circle A1 centre (13.16, 16.47) radius 9
  dimension "d81" = 18
extrude "Extrusion9" cut sketch "Sketch10" against normal up to next
sketch "Sketch12" plane through (24.85, -16.87, 0) normal (1, 0, 0) x (0, 0, -1)
  ellipse E0 centre (-17.053, 16.87) end of major axis (-32.053, 16.87) minor radius 10.6066 projected
  circle A0 centre (-32.1, 16.87) radius 1.4 projected
  circle A1 centre (-24.6, 16.87) radius 1.4 projected
  circle A2 centre (-17.1, 16.87) radius 1.4 projected
  circle A3 centre (-9.6, 16.87) radius 1.4 projected
  circle A4 centre (-2.1, 16.87) radius 1.4 projected
  point P0 (0, 16.87)
hole "Hole2" at (24.85, 0, 32.1) at (24.85, 0, 24.6) at (24.85, 0, 17.053) at (24.85, 0, 9.6) at (24.85, 0, 2.1) direction (-1, 0, 0) diameter 2.8 depth 8 tip angle 118 counterbore diameter 6 counterbore depth 3
chamfer "Chamfer2" distance 2 angle 45 2 edges at (19.5269, 5.4715, 33.6) (19.5269, -5.4961, 33.6)
fillet "Fillet1" radius 4 2 edges at (-16.87, -16.45, -6) (-16.87, 16.45, -6)
sketch "Sketch14" plane through (0, 0, -12) normal (0, 0, -1) x (-1, 0, 0)
  arc A0 (16.87, 12.45) -> (12.87, 16.45) centre (12.87, 12.45) ccw projected
  line L0 (12.87, 16.45) -> (-2.13, 16.45) projected
  line L1 (-2.13, 16.45) -> (-2.13, 13.9989) projected
  line L2 (-2.13, -16.45) -> (12.87, -16.45) projected
  arc A1 (12.87, -16.45) -> (16.87, -12.45) centre (12.87, -12.45) ccw projected
  line L3 (16.87, -12.45) -> (16.87, -11.3549) projected
  arc A2 (16.87, 11.3549) -> (16.87, -11.3549) centre (11.03, 0) ccw projected
  line L4 (16.87, 11.3549) -> (16.87, 12.45) projected
  arc A3 (22.43, -7.9) -> (18.93, -11.4) centre (22.43, -11.4) ccw construction
  line L5 (22.43, -7.9) -> (24.53, -7.9) construction
  line L6 (24.53, 7.9) -> (24.53, -7.9) construction
  line L7 (24.53, 7.9) -> (22.43, 7.9) construction
  arc A4 (18.93, 11.4) -> (22.43, 7.9) centre (22.43, 11.4) ccw construction
  line L8 (18.93, 11.4) -> (18.93, 13.5) construction
  line L9 (3.13, 13.5) -> (18.93, 13.5) construction
  line L10 (3.13, 13.5) -> (3.13, 11.4) construction
  arc A5 (-0.37, 7.9) -> (3.13, 11.4) centre (-0.37, 11.4) ccw construction
  line L11 (-0.37, 7.9) -> (-2.47, 7.9) construction
  line L12 (-2.47, -7.9) -> (-2.47, 7.9) construction
  line L13 (-2.47, -7.9) -> (-0.37, -7.9) construction
  arc A6 (3.13, -11.4) -> (-0.37, -7.9) centre (-0.37, -11.4) ccw construction
  line L14 (3.13, -11.4) -> (3.13, -13.5) construction
  line L15 (18.93, -13.5) -> (3.13, -13.5) construction
  line L16 (18.93, -13.5) -> (18.93, -11.4) construction
  circle A7 centre (11.03, 0) radius 2.5 construction
  circle A8 centre (22.53, 11.5) radius 1 construction
  arc A9 (-2.13, 9.0011) -> (-2.13, 13.9989) centre (-0.47, 11.5) ccw projected
  line L17 (-2.13, 9.0011) -> (-2.13, -9.0011) projected
  arc A10 (-2.13, -13.9989) -> (-2.13, -9.0011) centre (-0.47, -11.5) ccw projected
  line L18 (-2.13, -13.9989) -> (-2.13, -16.45) projected
  point P0 (0, 0)
sketch "Sketch15" plane through (0, 0, 3) normal (0, 0, 1) x (1, 0, 0)
  arc A0 (12.6573, -5.7482) -> (12.7994, -5.95) centre (12.9383, -5.7012) ccw projected
  line L0 (12.7994, -5.95) -> (16.97, -5.95) projected
  line L1 (16.97, -5.95) -> (16.97, 6.15) projected
  line L2 (12.7994, 6.15) -> (16.97, 6.15) projected
  arc A1 (12.7994, 6.15) -> (12.6573, 5.9482) centre (12.9383, 5.9013) ccw projected
  arc A2 (12.2641, 5.6514) -> (12.6573, 5.9482) centre (11.7553, 6.7343) ccw projected
  arc A3 (12.2641, 5.6514) -> (12.1529, 5.525) centre (12.3846, 5.4332) ccw projected
  line L3 (12.1141, 5.028) -> (12.1529, 5.525) projected
  arc A4 (11.8955, 4.8) -> (12.1141, 5.028) centre (11.8656, 5.0475) ccw projected
  line L4 (11.4444, 4.8) -> (11.8955, 4.8) projected
  arc A5 (11.1961, 5.0276) -> (11.4444, 4.8) centre (11.4444, 5.0493) ccw projected
  line L5 (11.1642, 5.393) -> (11.1961, 5.0276) projected
  arc A6 (11.1642, 5.393) -> (11.0112, 5.6514) centre (10.9164, 5.4208) ccw projected
  arc A7 (10.4933, 5.9954) -> (11.0112, 5.6514) centre (11.4026, 6.8024) ccw projected
  arc A8 (10.4933, 5.9954) -> (10.27, 6.15) centre (10.2627, 5.9009) ccw projected
  line L6 (9.67, 6.15) -> (10.27, 6.15) projected
  line L7 (9.17, 5.65) -> (9.67, 6.15) projected
  line L8 (9.17, 5.65) -> (9.17, -5.45) projected
  line L9 (9.17, -5.45) -> (9.67, -5.95) projected
  line L10 (9.67, -5.95) -> (10.27, -5.95) projected
  arc A9 (10.27, -5.95) -> (10.4933, -5.7954) centre (10.2627, -5.7008) ccw projected
  arc A10 (11.0112, -5.4514) -> (10.4933, -5.7954) centre (11.4026, -6.6024) ccw projected
  arc A11 (11.0112, -5.4514) -> (11.1642, -5.193) centre (10.9164, -5.2208) ccw projected
  line L11 (11.1642, -5.193) -> (11.1961, -4.8275) projected
  arc A12 (11.4444, -4.6) -> (11.1961, -4.8275) centre (11.4444, -4.8493) ccw projected
  line L12 (11.4444, -4.6) -> (11.8955, -4.6) projected
  arc A13 (12.1141, -4.828) -> (11.8955, -4.6) centre (11.8656, -4.8474) ccw projected
  line L13 (12.1141, -4.828) -> (12.1529, -5.325) projected
  arc A14 (12.1529, -5.325) -> (12.2641, -5.4514) centre (12.3846, -5.2332) ccw projected
  arc A15 (12.6573, -5.7482) -> (12.2641, -5.4514) centre (11.7553, -6.5343) ccw projected
  circle A16 centre (-11.03, 0) radius 9 projected
  arc A17 (2.3093, 13.87) -> (2.13, 9.0011) centre (0.47, 11.5) ccw projected
  line L14 (2.3093, 13.87) -> (16.87, 13.87) projected
  line L15 (16.87, 13.87) -> (16.87, 1.0724) projected
  line L16 (16.87, 1.0724) -> (16.97, 1.0724) projected
  line L17 (16.97, 1.0724) -> (16.97, 5.4715) projected
  line L18 (16.97, 5.4715) -> (24.85, 5.4715) projected
  line L19 (24.85, 5.4715) -> (24.85, 13.8689) projected
  line L20 (24.85, 13.8689) -> (19.5269, 13.8689) projected
  line L21 (19.5269, 13.8689) -> (13.8689, 19.5269) projected
  line L22 (13.8689, 19.5269) -> (13.8689, 24.85) projected
  line L23 (13.8689, 24.85) -> (-13.8689, 24.85) projected
  line L24 (-13.8689, 24.85) -> (-13.8689, 19.5269) projected
  line L25 (-13.8689, 19.5269) -> (-19.5269, 13.8689) projected
  line L26 (-19.5269, 13.8689) -> (-24.85, 13.8689) projected
  line L27 (-24.85, 13.8689) -> (-24.85, -13.8689) projected
  line L28 (-24.85, -13.8689) -> (-19.5269, -13.8689) projected
  line L29 (-19.5269, -13.8689) -> (-13.8689, -19.5269) projected
  line L30 (-13.8689, -19.5269) -> (-13.8689, -24.85) projected
  line L31 (-13.8689, -24.85) -> (13.8689, -24.85) projected
  line L32 (13.8689, -24.85) -> (13.8689, -19.5269) projected
  line L33 (13.8689, -19.5269) -> (19.5269, -13.8689) projected
  line L34 (19.5269, -13.8689) -> (24.85, -13.8689) projected
  line L35 (24.85, -13.8689) -> (24.85, -5.4961) projected
  line L36 (24.85, -5.4961) -> (16.97, -5.4961) projected
  line L37 (16.97, -5.4961) -> (16.97, -1.0724) projected
  line L38 (16.97, -1.0724) -> (16.87, -1.0724) projected
  line L39 (16.87, -1.0724) -> (16.87, -13.87) projected
  line L40 (16.87, -13.87) -> (2.3093, -13.87) projected
  arc A18 (2.13, -9.0011) -> (2.3093, -13.87) centre (0.47, -11.5) ccw projected
  line L41 (2.13, -9.0011) -> (2.13, 9.0011) projected
  line L42 (2.3093, 13.87) -> (16.87, 13.87) projected
  line L43 (16.87, 13.87) -> (14.37, 13.87)
  line L44 (14.37, 13.87) -> (14.37, 6.15)
  line L45 (14.37, 6.15) -> (16.87, 6.15)
  line L46 (16.87, 6.15) -> (16.87, 13.87)
  line L47 (16.87, -1.0724) -> (16.87, -13.87) projected
  line L48 (16.87, -13.87) -> (14.37, -13.87)
  line L49 (14.37, -13.87) -> (14.37, -5.95)
  line L50 (14.37, -5.95) -> (16.87, -5.95)
  line L51 (16.87, -5.95) -> (16.87, -13.87)
  point P0 (0, 0)
  dimension "d82" = 2.5
  dimension "d83" = 7.72
ref_plane "Work Plane5" through (-16.97, -16.97, 0) normal (0, 0, 1) x (1, 0, 0)
extrude "Extrusion12" add sketch "Sketch15" against normal up to surface (3 mm away) contours L0 L39 L40 L49 | L2 L44 L14 L15
equation "\"d2\" = d1"
equation "\"d3\" = d1"
equation "\"d4\" = d1"
equation "\"d5\" = d1"
equation "\"d1\" = 0.1"
properties part number "30_Cube_Z_Focus_MGN_NEMA_base_v3"
